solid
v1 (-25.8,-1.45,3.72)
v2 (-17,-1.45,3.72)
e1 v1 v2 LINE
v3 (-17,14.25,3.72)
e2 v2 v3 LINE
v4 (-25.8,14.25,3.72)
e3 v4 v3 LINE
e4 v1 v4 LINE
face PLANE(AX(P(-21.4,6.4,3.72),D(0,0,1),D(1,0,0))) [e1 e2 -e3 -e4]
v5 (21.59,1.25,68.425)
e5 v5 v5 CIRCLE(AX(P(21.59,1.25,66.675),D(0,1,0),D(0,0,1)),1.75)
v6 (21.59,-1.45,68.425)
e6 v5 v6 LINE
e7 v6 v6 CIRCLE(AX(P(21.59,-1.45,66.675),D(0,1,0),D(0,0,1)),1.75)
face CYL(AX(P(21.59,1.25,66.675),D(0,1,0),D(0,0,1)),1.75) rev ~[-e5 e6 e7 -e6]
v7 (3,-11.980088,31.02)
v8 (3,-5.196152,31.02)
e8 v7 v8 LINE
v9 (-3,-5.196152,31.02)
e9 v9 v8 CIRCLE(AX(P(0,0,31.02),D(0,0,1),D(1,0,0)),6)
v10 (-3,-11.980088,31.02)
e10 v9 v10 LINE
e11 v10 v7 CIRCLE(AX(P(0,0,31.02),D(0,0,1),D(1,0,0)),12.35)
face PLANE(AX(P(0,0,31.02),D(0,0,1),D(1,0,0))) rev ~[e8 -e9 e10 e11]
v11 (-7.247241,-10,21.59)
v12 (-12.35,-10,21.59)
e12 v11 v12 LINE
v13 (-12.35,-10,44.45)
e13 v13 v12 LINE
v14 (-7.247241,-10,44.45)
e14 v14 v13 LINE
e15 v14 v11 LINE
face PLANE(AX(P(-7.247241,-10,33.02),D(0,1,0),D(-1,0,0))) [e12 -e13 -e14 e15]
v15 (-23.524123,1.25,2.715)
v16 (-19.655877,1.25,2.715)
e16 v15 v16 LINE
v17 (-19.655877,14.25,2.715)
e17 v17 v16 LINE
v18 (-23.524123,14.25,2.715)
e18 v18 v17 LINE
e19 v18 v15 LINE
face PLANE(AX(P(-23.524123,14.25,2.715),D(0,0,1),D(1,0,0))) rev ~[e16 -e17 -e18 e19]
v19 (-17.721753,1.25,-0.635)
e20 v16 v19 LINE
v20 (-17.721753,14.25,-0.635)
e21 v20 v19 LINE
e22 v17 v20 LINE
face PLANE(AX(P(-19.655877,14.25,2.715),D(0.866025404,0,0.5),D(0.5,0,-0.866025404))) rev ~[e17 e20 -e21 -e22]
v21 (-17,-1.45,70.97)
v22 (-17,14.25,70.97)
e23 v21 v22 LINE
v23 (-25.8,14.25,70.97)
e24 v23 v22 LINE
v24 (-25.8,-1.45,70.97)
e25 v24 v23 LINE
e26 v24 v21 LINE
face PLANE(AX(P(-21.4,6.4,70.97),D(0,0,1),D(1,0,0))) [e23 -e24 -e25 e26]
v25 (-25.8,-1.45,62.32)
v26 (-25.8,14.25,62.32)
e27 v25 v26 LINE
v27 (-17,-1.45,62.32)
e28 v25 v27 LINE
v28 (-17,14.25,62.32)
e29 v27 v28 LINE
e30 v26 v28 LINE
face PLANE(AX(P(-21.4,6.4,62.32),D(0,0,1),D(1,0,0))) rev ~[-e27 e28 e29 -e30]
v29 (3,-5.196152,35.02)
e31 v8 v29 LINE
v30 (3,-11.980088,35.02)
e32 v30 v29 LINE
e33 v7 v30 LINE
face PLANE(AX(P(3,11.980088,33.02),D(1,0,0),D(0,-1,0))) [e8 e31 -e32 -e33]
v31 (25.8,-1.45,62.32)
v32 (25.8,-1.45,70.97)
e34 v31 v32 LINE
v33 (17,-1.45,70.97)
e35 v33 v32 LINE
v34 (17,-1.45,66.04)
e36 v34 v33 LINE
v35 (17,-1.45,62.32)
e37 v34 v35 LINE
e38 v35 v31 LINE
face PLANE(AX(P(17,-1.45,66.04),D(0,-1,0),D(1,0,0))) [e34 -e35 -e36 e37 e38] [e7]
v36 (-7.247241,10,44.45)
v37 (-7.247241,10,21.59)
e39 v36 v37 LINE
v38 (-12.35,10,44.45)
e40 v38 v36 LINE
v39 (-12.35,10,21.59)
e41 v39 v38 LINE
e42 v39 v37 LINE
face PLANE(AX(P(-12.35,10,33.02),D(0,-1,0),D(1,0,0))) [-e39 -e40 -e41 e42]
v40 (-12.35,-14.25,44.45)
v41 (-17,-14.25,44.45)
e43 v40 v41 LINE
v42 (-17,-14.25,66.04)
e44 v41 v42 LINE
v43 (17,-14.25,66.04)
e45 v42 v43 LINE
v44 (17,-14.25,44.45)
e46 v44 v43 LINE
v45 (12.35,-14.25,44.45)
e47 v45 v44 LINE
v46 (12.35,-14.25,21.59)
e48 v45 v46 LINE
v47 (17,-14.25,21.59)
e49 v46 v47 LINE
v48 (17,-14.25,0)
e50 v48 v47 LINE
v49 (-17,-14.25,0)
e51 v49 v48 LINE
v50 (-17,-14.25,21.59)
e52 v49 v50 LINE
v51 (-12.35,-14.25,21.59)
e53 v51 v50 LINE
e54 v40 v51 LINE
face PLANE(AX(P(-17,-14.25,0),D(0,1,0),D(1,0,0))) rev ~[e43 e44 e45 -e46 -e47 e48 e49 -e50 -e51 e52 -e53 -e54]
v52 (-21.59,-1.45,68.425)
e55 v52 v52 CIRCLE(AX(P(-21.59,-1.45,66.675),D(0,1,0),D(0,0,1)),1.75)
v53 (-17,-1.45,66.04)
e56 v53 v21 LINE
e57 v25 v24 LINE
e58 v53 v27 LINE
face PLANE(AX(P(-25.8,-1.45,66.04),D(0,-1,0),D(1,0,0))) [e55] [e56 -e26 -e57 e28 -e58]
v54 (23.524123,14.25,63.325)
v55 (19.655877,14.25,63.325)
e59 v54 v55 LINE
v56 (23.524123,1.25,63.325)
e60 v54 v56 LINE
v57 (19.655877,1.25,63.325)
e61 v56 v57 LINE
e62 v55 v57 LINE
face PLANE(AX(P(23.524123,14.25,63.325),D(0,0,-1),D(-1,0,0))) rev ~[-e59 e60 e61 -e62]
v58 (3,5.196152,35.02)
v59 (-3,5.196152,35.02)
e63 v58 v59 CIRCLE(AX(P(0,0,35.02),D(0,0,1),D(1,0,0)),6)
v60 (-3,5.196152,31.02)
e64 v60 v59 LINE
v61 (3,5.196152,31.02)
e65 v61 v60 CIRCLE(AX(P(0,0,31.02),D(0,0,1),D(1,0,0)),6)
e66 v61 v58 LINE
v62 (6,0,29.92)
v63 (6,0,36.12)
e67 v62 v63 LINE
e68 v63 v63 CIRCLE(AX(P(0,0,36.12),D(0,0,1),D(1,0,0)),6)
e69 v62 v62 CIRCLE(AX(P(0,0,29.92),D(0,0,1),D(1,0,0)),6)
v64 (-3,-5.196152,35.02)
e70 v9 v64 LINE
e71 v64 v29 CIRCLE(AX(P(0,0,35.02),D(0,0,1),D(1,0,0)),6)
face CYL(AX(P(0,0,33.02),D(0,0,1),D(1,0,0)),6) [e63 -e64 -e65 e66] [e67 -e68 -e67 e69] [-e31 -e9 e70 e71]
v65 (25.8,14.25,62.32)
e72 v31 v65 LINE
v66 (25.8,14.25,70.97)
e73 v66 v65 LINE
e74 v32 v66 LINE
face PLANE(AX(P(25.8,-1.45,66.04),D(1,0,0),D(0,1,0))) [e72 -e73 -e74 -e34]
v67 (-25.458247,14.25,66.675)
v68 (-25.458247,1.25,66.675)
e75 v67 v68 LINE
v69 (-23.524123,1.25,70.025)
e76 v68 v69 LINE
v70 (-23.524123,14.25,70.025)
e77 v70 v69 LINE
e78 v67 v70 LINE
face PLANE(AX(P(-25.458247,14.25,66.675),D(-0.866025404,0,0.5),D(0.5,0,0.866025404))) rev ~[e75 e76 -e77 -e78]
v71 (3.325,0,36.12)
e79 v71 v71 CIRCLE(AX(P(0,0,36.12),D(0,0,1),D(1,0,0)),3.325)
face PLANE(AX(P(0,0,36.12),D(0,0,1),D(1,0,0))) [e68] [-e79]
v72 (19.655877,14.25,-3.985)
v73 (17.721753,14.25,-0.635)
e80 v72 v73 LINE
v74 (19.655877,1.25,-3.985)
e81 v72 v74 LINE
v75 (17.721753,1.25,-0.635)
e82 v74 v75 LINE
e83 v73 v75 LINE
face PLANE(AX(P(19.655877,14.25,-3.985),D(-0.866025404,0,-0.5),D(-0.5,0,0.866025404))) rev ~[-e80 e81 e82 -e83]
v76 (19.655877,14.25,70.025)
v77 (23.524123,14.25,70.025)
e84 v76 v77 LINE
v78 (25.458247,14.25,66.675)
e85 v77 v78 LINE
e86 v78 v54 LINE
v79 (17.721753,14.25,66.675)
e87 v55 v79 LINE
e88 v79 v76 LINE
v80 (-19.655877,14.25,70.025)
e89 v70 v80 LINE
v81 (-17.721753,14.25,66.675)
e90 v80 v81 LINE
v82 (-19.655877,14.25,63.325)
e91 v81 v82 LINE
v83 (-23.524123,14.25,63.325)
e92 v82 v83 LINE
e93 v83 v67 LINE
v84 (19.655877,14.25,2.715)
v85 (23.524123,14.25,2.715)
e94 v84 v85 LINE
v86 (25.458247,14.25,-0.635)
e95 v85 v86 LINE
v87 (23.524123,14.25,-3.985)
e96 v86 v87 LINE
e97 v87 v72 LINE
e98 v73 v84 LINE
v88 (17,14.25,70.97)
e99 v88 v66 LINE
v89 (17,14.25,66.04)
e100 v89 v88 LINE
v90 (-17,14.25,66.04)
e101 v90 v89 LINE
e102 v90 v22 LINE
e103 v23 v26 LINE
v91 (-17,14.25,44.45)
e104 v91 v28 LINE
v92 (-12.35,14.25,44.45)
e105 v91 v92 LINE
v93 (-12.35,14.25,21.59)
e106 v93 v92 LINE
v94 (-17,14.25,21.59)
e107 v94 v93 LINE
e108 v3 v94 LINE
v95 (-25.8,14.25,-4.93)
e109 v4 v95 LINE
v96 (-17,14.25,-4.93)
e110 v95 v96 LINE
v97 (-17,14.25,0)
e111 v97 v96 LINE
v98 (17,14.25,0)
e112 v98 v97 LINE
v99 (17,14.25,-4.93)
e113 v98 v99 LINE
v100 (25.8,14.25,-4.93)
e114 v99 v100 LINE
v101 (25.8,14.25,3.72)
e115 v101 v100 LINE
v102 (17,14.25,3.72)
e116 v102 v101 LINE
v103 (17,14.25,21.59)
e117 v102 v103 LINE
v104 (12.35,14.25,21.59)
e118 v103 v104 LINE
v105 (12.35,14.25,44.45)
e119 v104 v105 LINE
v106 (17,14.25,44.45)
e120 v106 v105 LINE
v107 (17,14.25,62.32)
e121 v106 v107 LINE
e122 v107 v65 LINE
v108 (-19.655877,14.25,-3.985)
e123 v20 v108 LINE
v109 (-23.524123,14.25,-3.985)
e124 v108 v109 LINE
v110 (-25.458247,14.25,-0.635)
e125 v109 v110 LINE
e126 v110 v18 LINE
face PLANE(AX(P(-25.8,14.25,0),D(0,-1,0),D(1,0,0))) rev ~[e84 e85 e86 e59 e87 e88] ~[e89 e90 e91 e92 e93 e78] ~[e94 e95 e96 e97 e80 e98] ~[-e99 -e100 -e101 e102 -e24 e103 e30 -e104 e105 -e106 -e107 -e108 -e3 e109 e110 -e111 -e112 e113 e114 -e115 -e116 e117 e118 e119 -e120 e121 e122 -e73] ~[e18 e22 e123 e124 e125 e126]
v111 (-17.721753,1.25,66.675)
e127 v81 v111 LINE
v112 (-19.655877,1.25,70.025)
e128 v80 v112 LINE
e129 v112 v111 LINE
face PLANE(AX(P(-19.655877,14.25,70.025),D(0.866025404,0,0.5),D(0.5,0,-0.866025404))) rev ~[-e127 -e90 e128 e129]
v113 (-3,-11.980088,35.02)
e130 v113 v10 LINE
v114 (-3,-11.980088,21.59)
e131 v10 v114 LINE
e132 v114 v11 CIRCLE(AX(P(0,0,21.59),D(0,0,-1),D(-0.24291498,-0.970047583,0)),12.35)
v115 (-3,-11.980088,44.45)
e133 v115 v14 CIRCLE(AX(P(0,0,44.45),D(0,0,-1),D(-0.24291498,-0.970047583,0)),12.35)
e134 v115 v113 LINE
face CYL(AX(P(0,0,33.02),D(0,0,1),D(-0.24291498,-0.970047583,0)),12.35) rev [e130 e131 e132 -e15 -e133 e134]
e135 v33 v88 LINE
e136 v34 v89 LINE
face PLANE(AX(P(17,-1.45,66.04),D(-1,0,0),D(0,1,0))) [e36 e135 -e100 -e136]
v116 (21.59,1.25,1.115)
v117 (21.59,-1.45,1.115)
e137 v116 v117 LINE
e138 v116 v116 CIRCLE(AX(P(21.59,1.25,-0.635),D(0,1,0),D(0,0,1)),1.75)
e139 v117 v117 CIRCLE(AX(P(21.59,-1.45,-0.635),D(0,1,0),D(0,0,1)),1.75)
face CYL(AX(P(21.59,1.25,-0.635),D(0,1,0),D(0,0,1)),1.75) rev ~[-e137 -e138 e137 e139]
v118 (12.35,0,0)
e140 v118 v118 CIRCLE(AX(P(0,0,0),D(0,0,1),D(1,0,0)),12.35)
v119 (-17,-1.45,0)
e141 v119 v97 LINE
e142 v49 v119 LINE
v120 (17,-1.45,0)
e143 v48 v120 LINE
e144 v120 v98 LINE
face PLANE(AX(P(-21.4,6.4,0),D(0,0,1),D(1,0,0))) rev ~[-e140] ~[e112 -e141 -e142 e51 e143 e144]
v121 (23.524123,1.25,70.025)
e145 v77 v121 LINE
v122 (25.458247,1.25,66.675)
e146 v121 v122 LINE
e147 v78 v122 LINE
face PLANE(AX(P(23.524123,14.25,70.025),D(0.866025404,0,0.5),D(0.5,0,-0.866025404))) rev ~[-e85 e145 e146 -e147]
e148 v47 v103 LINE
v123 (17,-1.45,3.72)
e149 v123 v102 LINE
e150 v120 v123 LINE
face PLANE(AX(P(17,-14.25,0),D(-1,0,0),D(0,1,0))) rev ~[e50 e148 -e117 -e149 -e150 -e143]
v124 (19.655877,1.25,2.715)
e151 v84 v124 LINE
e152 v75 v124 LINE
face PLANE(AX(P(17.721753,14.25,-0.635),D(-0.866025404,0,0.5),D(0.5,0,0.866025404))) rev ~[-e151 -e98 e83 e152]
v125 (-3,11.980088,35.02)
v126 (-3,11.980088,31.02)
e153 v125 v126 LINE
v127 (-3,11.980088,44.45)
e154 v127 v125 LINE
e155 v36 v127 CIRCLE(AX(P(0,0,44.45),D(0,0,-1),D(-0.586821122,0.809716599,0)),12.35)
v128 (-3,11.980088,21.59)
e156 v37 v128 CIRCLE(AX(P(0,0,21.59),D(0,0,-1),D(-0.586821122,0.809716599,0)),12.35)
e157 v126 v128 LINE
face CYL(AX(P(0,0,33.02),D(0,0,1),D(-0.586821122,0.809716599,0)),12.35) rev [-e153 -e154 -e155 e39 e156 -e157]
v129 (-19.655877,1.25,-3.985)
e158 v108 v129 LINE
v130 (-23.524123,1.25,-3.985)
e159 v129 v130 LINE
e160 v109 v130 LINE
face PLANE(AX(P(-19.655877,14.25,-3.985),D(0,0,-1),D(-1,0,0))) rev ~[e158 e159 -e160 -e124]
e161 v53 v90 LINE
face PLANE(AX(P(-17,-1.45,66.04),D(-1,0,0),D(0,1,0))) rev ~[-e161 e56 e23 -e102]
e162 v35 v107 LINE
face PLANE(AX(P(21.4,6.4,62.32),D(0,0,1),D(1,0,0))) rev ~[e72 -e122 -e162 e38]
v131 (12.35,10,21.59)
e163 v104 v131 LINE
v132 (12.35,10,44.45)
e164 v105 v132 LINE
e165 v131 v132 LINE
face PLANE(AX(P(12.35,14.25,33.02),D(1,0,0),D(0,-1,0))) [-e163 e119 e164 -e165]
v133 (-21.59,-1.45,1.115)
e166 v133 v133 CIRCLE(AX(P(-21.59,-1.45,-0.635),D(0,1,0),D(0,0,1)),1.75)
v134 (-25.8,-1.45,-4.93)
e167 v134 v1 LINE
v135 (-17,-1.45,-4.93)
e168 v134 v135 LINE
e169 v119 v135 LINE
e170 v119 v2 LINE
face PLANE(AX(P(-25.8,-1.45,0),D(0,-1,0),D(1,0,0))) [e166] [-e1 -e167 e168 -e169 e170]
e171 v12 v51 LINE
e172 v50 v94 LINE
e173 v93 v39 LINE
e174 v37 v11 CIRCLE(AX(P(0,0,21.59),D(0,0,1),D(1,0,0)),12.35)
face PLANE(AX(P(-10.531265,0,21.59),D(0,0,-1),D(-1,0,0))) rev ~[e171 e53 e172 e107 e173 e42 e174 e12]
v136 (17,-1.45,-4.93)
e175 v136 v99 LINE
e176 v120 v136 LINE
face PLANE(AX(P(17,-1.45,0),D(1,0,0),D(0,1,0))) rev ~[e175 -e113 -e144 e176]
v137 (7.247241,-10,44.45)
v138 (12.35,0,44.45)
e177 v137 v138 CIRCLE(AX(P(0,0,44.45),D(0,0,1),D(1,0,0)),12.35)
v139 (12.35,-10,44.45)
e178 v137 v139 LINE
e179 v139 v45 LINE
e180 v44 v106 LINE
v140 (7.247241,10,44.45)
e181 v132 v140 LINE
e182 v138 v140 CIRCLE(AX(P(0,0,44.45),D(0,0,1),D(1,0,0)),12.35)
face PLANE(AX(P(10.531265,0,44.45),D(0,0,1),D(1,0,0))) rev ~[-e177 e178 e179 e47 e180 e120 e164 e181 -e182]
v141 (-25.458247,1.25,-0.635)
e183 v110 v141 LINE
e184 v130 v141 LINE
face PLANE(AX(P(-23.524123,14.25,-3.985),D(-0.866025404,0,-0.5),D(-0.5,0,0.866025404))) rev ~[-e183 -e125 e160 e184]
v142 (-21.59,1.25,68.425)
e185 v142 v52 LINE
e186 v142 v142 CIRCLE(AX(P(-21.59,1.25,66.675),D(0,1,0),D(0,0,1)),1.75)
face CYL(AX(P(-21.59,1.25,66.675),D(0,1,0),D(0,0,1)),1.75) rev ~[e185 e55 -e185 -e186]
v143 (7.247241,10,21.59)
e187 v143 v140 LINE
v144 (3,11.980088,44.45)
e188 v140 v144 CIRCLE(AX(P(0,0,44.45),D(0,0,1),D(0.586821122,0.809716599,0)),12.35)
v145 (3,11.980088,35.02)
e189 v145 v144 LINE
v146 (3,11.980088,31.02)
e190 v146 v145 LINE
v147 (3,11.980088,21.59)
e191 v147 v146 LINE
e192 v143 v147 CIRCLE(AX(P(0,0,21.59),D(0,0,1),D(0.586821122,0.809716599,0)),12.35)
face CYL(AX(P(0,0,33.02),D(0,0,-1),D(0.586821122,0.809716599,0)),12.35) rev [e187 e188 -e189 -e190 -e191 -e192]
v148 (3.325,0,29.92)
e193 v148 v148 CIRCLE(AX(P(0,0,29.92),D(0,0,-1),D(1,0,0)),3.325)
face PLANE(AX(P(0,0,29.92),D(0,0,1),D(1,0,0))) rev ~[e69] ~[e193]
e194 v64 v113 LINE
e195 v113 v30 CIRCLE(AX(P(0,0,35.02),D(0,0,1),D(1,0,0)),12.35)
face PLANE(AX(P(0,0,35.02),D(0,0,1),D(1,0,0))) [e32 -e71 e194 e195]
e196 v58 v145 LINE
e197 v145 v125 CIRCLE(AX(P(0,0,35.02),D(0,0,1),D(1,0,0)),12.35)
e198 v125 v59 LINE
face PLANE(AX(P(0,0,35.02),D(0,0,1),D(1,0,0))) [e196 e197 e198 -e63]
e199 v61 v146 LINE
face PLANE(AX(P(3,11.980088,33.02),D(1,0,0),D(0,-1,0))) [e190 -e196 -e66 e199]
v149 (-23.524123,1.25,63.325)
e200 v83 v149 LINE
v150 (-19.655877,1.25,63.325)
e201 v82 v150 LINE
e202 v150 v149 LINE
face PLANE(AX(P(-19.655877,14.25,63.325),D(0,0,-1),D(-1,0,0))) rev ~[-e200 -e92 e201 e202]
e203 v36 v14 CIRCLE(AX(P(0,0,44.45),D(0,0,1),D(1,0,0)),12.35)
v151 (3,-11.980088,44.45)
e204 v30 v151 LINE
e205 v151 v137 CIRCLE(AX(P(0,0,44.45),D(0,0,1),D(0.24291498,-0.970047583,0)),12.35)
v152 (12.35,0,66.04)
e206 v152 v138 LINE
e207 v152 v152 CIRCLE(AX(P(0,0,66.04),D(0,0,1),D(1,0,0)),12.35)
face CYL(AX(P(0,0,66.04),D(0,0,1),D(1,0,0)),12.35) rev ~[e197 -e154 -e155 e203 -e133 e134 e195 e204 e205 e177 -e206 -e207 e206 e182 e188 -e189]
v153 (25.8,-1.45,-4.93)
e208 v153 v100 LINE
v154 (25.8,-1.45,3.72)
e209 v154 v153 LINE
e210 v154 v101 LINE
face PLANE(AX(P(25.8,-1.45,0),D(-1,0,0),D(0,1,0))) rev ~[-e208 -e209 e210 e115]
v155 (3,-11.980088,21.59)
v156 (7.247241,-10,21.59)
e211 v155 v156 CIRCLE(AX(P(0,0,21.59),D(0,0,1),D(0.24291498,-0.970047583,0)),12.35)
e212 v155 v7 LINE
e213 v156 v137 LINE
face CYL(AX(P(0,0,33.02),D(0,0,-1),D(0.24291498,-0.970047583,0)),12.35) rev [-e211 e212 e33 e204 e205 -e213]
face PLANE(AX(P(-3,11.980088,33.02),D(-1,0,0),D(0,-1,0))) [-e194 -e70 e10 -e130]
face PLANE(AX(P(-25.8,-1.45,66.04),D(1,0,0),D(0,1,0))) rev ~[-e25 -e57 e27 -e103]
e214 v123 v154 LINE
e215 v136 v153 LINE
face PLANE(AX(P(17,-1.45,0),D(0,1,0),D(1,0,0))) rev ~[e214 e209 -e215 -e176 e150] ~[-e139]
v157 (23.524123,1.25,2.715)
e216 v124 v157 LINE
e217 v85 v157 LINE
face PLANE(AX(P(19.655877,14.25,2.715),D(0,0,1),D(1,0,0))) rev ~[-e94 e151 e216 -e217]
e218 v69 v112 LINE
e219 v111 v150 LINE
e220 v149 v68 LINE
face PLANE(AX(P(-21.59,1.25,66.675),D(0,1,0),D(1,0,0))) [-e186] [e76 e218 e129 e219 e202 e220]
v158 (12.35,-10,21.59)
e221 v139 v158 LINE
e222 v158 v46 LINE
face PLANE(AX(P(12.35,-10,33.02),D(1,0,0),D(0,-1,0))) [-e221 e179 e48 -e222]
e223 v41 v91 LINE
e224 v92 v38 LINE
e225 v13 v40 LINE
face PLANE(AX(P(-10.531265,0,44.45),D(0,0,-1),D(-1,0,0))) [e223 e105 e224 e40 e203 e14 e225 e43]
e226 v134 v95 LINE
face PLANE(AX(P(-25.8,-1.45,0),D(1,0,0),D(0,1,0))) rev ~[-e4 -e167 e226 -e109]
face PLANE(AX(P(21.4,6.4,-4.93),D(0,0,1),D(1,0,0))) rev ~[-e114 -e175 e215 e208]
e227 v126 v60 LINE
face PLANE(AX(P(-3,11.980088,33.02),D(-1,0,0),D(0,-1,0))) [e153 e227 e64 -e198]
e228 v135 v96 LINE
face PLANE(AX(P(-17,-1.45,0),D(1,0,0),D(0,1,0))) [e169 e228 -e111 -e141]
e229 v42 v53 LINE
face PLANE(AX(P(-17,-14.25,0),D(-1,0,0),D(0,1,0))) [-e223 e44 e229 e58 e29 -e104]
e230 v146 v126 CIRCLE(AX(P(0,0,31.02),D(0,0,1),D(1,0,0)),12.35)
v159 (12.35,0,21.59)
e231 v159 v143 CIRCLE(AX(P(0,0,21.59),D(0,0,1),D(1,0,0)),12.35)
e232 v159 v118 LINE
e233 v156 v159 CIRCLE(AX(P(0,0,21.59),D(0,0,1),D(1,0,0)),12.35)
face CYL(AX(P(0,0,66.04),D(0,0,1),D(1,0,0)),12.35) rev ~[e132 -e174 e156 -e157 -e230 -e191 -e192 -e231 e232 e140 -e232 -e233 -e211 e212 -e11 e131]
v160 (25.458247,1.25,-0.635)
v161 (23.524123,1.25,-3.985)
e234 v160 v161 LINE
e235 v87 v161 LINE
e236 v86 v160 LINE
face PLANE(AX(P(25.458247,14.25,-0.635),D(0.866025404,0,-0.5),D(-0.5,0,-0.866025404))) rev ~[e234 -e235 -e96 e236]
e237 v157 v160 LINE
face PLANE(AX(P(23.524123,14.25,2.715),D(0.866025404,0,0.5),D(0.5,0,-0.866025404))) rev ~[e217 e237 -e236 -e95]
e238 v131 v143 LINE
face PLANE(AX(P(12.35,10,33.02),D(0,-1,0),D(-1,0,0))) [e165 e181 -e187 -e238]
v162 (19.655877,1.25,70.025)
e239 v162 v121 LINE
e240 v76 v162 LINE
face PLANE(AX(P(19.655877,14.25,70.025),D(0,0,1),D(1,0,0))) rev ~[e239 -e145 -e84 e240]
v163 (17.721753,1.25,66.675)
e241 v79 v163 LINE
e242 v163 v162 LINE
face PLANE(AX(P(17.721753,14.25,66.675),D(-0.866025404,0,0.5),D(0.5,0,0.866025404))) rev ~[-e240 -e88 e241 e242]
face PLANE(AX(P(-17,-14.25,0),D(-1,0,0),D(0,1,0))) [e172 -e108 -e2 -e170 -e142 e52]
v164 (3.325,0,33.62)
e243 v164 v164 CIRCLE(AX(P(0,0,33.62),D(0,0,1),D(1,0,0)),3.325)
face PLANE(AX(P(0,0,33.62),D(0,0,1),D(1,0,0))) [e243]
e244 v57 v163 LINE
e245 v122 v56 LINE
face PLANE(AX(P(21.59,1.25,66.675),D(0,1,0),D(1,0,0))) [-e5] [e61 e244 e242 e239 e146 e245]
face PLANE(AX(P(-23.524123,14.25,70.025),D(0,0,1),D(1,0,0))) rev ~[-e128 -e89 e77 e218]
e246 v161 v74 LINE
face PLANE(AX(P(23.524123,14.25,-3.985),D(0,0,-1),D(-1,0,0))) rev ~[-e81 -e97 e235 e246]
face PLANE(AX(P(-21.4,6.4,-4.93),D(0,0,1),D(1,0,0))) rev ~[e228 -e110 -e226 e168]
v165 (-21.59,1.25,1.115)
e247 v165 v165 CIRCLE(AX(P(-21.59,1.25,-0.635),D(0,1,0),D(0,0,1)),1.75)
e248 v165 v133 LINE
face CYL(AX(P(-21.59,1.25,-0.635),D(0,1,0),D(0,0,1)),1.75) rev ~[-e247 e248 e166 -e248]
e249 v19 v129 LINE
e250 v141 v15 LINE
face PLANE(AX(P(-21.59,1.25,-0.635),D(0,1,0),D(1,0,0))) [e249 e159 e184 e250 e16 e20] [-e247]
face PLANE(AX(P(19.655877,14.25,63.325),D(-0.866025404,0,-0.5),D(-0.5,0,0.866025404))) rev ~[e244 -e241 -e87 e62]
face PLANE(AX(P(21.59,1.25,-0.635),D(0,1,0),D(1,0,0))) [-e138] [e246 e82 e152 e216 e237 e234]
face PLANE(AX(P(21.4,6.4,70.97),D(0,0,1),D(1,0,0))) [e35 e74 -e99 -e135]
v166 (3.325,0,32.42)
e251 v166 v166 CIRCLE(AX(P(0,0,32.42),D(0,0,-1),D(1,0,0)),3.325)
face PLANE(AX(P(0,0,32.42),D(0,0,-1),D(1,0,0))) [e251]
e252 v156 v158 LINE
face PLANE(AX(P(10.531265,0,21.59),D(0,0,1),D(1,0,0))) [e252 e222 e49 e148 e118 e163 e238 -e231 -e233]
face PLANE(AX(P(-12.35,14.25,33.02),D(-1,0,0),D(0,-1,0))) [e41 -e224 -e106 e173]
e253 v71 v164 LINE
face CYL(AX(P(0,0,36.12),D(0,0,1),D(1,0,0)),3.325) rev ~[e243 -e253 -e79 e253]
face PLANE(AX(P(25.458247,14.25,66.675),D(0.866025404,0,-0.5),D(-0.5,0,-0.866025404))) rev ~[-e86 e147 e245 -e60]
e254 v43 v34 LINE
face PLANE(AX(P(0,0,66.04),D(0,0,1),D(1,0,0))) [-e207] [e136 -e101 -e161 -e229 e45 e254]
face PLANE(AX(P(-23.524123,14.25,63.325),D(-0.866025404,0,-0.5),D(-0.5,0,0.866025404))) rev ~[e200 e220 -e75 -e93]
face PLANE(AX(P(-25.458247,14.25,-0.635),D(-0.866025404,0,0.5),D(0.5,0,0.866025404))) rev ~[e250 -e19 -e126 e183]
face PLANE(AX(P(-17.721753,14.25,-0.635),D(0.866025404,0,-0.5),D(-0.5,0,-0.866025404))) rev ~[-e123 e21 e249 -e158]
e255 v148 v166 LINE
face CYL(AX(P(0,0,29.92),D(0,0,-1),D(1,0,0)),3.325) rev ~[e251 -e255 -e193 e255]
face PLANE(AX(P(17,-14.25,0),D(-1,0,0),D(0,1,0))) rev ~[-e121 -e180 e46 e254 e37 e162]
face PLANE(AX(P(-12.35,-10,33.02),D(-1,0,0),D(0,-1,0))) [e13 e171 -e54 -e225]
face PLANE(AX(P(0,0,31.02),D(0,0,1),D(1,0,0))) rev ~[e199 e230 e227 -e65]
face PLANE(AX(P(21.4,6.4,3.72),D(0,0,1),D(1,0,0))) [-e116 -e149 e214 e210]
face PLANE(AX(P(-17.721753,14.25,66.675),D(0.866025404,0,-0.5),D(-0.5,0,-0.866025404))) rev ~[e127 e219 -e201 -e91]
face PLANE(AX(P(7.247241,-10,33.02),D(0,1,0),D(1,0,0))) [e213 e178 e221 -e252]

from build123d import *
from build123d.topology import SkipClean

# Parameters (mm, degrees)
SKETCH1_W                = 34
SKETCH1_H                = 28.5
BOSS_EXTRUDE1_DEPTH      = 66.04
SKETCH3_R                = 12.35
CUT_EXTRUDE1_DEPTH       = 70.665946488
SKETCH7_W                = 8.8
SKETCH7_H                = 15.7
BOSS_EXTRUDE2_DEPTH      = 4.93
BOSS_EXTRUDE2_DEPTH_BACK = 3.72
SKETCH10_W               = 8.8
SKETCH10_H               = 15.7
BOSS_EXTRUDE3_DEPTH      = 3.72
BOSS_EXTRUDE3_DEPTH_BACK = 4.93
CUT_EXTRUDE5_DEPTH       = 13
SKETCH11_R               = 12.35
BOSS_EXTRUDE4_DEPTH      = 2
CUT_EXTRUDE7_DEPTH       = 11.43
SKETCH14_R               = 6
BOSS_EXTRUDE5_DEPTH      = 3.1
SKETCH15_R               = 3.325
CUT_EXTRUDE8_DEPTH       = 2.5
SKETCH16_R               = 3.325
CUT_EXTRUDE9_DEPTH       = 2.5
SKETCH25_R               = 1.75
CUT_EXTRUDE17_DEPTH      = 50


with BuildPart() as part:
    # Sketch1 → Boss-Extrude1 (new body)
    with BuildSketch(Plane.XY):
        Rectangle(SKETCH1_W, SKETCH1_H)
    extrude(amount=BOSS_EXTRUDE1_DEPTH)

    # Sketch3 → Cut-Extrude1 (cut, through all)
    with BuildSketch(Plane.XY.offset(66.04)):
        Circle(SKETCH3_R)
    extrude(amount=-CUT_EXTRUDE1_DEPTH, mode=Mode.SUBTRACT)

    # Sketch7 → Boss-Extrude2 (add, two sides)
    with BuildSketch(Plane.XY.offset(66.04)) as boss_extrude2_sk:
        with Locations((-21.4, 6.4)):
            Rectangle(SKETCH7_W, SKETCH7_H)
        with Locations((21.4, 6.4)):
            Rectangle(SKETCH7_W, SKETCH7_H)
    extrude(amount=BOSS_EXTRUDE2_DEPTH)
    extrude(boss_extrude2_sk.sketch, amount=-BOSS_EXTRUDE2_DEPTH_BACK)

    # Sketch10 → Boss-Extrude3 (add, two sides)
    with BuildSketch(Plane.XY) as boss_extrude3_sk:
        with Locations((-21.4, 6.4)):
            Rectangle(SKETCH10_W, SKETCH10_H)
        with Locations((21.4, 6.4)):
            Rectangle(SKETCH10_W, SKETCH10_H)
    extrude(amount=BOSS_EXTRUDE3_DEPTH)
    extrude(boss_extrude3_sk.sketch, amount=-BOSS_EXTRUDE3_DEPTH_BACK)

    # Sketch8 → Cut-Extrude5 (cut)
    with BuildSketch(Plane(origin=(0, 14.25, 0), x_dir=(1, 0, 0), z_dir=(0, 1, 0))):
        Polygon((-25.458246804, 0.635), (-23.524123402, -2.715), (-19.655876598, -2.715), (-17.721753196, 0.635), (-19.655876598, 3.985), (-23.524123402, 3.985), align=None)
        Polygon((-17.721753196, -66.675), (-19.655876598, -63.325), (-23.524123402, -63.325), (-25.458246804, -66.675), (-23.524123402, -70.025), (-19.655876598, -70.025), align=None)
        Polygon((17.721753196, -66.675), (19.655876598, -70.025), (23.524123402, -70.025), (25.458246804, -66.675), (23.524123402, -63.325), (19.655876598, -63.325), align=None)
        Polygon((25.458246804, 0.635), (23.524123402, 3.985), (19.655876598, 3.985), (17.721753196, 0.635), (19.655876598, -2.715), (23.524123402, -2.715), align=None)
    extrude(amount=-CUT_EXTRUDE5_DEPTH, mode=Mode.SUBTRACT)


with BuildPart() as body_2:
    # Sketch11 → Boss-Extrude4 (new, symmetric)
    with BuildSketch(Plane.XY.offset(33.02)):
        Circle(SKETCH11_R)
    extrude(amount=BOSS_EXTRUDE4_DEPTH, both=True)


with BuildPart() as cut_extrude7_tool:
    # Sketch13 → Cut-Extrude7 (new, symmetric)
    with SkipClean():  # the faces are left unmerged after this step: merging them gives an invalid solid
        with BuildSketch(Plane.XY.offset(33.02)):
            with BuildLine():
                Line((17, -14.25), (17, 14.25))
                Line((17, 14.25), (12.35, 14.25))
                Line((12.35, 14.25), (12.35, 10))
                Line((12.35, 10), (7.247240854, 10))
                ThreePointArc((7.247240854, 10), (5.218397556, 11.193338508), (3, 11.980087646))
                Line((3, 11.980087646), (3, 0))
                Line((3, 0), (3, -11.980087646))
                ThreePointArc((3, -11.980087646), (5.218397556, -11.193338508), (7.247240854, -10))
                Line((7.247240854, -10), (12.35, -10))
                Line((12.35, -10), (12.35, -14.25))
                Line((12.35, -14.25), (17, -14.25))
            make_face()
            with BuildLine():
                Line((-12.35, 10), (-7.247240854, 10))
                ThreePointArc((-7.247240854, 10), (-5.218397556, 11.193338508), (-3, 11.980087646))
                Line((-3, 11.980087646), (-3, 0))
                Line((-3, 0), (-3, -11.980087646))
                ThreePointArc((-3, -11.980087646), (-5.218397556, -11.193338508), (-7.247240854, -10))
                Line((-7.247240854, -10), (-12.35, -10))
                Line((-12.35, -10), (-12.35, -14.25))
                Line((-12.35, -14.25), (-17, -14.25))
                Line((-17, -14.25), (-17, 14.25))
                Line((-17, 14.25), (-12.35, 14.25))
                Line((-12.35, 14.25), (-12.35, 10))
            make_face()
        extrude(amount=CUT_EXTRUDE7_DEPTH, both=True)


with BuildPart() as part_1:
    with SkipClean():  # the faces are left unmerged after this step: merging them gives an invalid solid
        add(part.part)

        # Cut-Extrude7: cut by cut_extrude7_tool
        add(cut_extrude7_tool.part, mode=Mode.SUBTRACT)



with BuildPart() as body_2_1:
    with SkipClean():  # the faces are left unmerged after this step: merging them gives an invalid solid
        add(body_2.part)

        # Cut-Extrude7: cut by cut_extrude7_tool
        add(cut_extrude7_tool.part, mode=Mode.SUBTRACT)


with BuildPart() as part_2:
    with SkipClean():  # the faces are left unmerged after this step: merging them gives an invalid solid
        add(part_1.part)

        add(body_2_1.part)  # Boss-Extrude5 merges body 2
        # Sketch14 → Boss-Extrude5 (add, symmetric)
        with BuildSketch(Plane.XY.offset(33.02)):
            Circle(SKETCH14_R)
        extrude(amount=BOSS_EXTRUDE5_DEPTH, both=True)

    # Sketch15 → Cut-Extrude8 (cut)
    with SkipClean():  # the faces are left unmerged after this step: merging them gives an invalid solid
        with BuildSketch(Plane.XY.offset(36.12)):
            Circle(SKETCH15_R)
        extrude(amount=-CUT_EXTRUDE8_DEPTH, mode=Mode.SUBTRACT)

    # Sketch16 → Cut-Extrude9 (cut)
    with SkipClean():  # the faces are left unmerged after this step: merging them gives an invalid solid
        with BuildSketch(Plane(origin=(0, 0, 29.92), x_dir=(-1, 0, 0), z_dir=(0, 0, -1))):
            with Locations(Location((0, 0, 0), (0, 0, 180))):
                Circle(SKETCH16_R)
        extrude(amount=-CUT_EXTRUDE9_DEPTH, mode=Mode.SUBTRACT)

    # Sketch25 → Cut-Extrude17 (cut)
    with SkipClean():  # the faces are left unmerged after this step: merging them gives an invalid solid
        with BuildSketch(Plane(origin=(132.323959999, 1.25, 1.846345109), x_dir=(1, 0, 0), z_dir=(0, 1, 0))):
            with Locations(Location((-110.733959999, 2.481345109, 0), (0, 0, 270))):
                Circle(SKETCH25_R)
            with Locations(Location((-110.733959999, -64.828654891, 0), (0, 0, 270))):
                Circle(SKETCH25_R)
            with Locations(Location((-153.913959999, -64.828654891, 0), (0, 0, 270))):
                Circle(SKETCH25_R)
            with Locations(Location((-153.913959999, 2.481345109, 0), (0, 0, 270))):
                Circle(SKETCH25_R)
        extrude(amount=-CUT_EXTRUDE17_DEPTH, mode=Mode.SUBTRACT)


solid = part_2.part
